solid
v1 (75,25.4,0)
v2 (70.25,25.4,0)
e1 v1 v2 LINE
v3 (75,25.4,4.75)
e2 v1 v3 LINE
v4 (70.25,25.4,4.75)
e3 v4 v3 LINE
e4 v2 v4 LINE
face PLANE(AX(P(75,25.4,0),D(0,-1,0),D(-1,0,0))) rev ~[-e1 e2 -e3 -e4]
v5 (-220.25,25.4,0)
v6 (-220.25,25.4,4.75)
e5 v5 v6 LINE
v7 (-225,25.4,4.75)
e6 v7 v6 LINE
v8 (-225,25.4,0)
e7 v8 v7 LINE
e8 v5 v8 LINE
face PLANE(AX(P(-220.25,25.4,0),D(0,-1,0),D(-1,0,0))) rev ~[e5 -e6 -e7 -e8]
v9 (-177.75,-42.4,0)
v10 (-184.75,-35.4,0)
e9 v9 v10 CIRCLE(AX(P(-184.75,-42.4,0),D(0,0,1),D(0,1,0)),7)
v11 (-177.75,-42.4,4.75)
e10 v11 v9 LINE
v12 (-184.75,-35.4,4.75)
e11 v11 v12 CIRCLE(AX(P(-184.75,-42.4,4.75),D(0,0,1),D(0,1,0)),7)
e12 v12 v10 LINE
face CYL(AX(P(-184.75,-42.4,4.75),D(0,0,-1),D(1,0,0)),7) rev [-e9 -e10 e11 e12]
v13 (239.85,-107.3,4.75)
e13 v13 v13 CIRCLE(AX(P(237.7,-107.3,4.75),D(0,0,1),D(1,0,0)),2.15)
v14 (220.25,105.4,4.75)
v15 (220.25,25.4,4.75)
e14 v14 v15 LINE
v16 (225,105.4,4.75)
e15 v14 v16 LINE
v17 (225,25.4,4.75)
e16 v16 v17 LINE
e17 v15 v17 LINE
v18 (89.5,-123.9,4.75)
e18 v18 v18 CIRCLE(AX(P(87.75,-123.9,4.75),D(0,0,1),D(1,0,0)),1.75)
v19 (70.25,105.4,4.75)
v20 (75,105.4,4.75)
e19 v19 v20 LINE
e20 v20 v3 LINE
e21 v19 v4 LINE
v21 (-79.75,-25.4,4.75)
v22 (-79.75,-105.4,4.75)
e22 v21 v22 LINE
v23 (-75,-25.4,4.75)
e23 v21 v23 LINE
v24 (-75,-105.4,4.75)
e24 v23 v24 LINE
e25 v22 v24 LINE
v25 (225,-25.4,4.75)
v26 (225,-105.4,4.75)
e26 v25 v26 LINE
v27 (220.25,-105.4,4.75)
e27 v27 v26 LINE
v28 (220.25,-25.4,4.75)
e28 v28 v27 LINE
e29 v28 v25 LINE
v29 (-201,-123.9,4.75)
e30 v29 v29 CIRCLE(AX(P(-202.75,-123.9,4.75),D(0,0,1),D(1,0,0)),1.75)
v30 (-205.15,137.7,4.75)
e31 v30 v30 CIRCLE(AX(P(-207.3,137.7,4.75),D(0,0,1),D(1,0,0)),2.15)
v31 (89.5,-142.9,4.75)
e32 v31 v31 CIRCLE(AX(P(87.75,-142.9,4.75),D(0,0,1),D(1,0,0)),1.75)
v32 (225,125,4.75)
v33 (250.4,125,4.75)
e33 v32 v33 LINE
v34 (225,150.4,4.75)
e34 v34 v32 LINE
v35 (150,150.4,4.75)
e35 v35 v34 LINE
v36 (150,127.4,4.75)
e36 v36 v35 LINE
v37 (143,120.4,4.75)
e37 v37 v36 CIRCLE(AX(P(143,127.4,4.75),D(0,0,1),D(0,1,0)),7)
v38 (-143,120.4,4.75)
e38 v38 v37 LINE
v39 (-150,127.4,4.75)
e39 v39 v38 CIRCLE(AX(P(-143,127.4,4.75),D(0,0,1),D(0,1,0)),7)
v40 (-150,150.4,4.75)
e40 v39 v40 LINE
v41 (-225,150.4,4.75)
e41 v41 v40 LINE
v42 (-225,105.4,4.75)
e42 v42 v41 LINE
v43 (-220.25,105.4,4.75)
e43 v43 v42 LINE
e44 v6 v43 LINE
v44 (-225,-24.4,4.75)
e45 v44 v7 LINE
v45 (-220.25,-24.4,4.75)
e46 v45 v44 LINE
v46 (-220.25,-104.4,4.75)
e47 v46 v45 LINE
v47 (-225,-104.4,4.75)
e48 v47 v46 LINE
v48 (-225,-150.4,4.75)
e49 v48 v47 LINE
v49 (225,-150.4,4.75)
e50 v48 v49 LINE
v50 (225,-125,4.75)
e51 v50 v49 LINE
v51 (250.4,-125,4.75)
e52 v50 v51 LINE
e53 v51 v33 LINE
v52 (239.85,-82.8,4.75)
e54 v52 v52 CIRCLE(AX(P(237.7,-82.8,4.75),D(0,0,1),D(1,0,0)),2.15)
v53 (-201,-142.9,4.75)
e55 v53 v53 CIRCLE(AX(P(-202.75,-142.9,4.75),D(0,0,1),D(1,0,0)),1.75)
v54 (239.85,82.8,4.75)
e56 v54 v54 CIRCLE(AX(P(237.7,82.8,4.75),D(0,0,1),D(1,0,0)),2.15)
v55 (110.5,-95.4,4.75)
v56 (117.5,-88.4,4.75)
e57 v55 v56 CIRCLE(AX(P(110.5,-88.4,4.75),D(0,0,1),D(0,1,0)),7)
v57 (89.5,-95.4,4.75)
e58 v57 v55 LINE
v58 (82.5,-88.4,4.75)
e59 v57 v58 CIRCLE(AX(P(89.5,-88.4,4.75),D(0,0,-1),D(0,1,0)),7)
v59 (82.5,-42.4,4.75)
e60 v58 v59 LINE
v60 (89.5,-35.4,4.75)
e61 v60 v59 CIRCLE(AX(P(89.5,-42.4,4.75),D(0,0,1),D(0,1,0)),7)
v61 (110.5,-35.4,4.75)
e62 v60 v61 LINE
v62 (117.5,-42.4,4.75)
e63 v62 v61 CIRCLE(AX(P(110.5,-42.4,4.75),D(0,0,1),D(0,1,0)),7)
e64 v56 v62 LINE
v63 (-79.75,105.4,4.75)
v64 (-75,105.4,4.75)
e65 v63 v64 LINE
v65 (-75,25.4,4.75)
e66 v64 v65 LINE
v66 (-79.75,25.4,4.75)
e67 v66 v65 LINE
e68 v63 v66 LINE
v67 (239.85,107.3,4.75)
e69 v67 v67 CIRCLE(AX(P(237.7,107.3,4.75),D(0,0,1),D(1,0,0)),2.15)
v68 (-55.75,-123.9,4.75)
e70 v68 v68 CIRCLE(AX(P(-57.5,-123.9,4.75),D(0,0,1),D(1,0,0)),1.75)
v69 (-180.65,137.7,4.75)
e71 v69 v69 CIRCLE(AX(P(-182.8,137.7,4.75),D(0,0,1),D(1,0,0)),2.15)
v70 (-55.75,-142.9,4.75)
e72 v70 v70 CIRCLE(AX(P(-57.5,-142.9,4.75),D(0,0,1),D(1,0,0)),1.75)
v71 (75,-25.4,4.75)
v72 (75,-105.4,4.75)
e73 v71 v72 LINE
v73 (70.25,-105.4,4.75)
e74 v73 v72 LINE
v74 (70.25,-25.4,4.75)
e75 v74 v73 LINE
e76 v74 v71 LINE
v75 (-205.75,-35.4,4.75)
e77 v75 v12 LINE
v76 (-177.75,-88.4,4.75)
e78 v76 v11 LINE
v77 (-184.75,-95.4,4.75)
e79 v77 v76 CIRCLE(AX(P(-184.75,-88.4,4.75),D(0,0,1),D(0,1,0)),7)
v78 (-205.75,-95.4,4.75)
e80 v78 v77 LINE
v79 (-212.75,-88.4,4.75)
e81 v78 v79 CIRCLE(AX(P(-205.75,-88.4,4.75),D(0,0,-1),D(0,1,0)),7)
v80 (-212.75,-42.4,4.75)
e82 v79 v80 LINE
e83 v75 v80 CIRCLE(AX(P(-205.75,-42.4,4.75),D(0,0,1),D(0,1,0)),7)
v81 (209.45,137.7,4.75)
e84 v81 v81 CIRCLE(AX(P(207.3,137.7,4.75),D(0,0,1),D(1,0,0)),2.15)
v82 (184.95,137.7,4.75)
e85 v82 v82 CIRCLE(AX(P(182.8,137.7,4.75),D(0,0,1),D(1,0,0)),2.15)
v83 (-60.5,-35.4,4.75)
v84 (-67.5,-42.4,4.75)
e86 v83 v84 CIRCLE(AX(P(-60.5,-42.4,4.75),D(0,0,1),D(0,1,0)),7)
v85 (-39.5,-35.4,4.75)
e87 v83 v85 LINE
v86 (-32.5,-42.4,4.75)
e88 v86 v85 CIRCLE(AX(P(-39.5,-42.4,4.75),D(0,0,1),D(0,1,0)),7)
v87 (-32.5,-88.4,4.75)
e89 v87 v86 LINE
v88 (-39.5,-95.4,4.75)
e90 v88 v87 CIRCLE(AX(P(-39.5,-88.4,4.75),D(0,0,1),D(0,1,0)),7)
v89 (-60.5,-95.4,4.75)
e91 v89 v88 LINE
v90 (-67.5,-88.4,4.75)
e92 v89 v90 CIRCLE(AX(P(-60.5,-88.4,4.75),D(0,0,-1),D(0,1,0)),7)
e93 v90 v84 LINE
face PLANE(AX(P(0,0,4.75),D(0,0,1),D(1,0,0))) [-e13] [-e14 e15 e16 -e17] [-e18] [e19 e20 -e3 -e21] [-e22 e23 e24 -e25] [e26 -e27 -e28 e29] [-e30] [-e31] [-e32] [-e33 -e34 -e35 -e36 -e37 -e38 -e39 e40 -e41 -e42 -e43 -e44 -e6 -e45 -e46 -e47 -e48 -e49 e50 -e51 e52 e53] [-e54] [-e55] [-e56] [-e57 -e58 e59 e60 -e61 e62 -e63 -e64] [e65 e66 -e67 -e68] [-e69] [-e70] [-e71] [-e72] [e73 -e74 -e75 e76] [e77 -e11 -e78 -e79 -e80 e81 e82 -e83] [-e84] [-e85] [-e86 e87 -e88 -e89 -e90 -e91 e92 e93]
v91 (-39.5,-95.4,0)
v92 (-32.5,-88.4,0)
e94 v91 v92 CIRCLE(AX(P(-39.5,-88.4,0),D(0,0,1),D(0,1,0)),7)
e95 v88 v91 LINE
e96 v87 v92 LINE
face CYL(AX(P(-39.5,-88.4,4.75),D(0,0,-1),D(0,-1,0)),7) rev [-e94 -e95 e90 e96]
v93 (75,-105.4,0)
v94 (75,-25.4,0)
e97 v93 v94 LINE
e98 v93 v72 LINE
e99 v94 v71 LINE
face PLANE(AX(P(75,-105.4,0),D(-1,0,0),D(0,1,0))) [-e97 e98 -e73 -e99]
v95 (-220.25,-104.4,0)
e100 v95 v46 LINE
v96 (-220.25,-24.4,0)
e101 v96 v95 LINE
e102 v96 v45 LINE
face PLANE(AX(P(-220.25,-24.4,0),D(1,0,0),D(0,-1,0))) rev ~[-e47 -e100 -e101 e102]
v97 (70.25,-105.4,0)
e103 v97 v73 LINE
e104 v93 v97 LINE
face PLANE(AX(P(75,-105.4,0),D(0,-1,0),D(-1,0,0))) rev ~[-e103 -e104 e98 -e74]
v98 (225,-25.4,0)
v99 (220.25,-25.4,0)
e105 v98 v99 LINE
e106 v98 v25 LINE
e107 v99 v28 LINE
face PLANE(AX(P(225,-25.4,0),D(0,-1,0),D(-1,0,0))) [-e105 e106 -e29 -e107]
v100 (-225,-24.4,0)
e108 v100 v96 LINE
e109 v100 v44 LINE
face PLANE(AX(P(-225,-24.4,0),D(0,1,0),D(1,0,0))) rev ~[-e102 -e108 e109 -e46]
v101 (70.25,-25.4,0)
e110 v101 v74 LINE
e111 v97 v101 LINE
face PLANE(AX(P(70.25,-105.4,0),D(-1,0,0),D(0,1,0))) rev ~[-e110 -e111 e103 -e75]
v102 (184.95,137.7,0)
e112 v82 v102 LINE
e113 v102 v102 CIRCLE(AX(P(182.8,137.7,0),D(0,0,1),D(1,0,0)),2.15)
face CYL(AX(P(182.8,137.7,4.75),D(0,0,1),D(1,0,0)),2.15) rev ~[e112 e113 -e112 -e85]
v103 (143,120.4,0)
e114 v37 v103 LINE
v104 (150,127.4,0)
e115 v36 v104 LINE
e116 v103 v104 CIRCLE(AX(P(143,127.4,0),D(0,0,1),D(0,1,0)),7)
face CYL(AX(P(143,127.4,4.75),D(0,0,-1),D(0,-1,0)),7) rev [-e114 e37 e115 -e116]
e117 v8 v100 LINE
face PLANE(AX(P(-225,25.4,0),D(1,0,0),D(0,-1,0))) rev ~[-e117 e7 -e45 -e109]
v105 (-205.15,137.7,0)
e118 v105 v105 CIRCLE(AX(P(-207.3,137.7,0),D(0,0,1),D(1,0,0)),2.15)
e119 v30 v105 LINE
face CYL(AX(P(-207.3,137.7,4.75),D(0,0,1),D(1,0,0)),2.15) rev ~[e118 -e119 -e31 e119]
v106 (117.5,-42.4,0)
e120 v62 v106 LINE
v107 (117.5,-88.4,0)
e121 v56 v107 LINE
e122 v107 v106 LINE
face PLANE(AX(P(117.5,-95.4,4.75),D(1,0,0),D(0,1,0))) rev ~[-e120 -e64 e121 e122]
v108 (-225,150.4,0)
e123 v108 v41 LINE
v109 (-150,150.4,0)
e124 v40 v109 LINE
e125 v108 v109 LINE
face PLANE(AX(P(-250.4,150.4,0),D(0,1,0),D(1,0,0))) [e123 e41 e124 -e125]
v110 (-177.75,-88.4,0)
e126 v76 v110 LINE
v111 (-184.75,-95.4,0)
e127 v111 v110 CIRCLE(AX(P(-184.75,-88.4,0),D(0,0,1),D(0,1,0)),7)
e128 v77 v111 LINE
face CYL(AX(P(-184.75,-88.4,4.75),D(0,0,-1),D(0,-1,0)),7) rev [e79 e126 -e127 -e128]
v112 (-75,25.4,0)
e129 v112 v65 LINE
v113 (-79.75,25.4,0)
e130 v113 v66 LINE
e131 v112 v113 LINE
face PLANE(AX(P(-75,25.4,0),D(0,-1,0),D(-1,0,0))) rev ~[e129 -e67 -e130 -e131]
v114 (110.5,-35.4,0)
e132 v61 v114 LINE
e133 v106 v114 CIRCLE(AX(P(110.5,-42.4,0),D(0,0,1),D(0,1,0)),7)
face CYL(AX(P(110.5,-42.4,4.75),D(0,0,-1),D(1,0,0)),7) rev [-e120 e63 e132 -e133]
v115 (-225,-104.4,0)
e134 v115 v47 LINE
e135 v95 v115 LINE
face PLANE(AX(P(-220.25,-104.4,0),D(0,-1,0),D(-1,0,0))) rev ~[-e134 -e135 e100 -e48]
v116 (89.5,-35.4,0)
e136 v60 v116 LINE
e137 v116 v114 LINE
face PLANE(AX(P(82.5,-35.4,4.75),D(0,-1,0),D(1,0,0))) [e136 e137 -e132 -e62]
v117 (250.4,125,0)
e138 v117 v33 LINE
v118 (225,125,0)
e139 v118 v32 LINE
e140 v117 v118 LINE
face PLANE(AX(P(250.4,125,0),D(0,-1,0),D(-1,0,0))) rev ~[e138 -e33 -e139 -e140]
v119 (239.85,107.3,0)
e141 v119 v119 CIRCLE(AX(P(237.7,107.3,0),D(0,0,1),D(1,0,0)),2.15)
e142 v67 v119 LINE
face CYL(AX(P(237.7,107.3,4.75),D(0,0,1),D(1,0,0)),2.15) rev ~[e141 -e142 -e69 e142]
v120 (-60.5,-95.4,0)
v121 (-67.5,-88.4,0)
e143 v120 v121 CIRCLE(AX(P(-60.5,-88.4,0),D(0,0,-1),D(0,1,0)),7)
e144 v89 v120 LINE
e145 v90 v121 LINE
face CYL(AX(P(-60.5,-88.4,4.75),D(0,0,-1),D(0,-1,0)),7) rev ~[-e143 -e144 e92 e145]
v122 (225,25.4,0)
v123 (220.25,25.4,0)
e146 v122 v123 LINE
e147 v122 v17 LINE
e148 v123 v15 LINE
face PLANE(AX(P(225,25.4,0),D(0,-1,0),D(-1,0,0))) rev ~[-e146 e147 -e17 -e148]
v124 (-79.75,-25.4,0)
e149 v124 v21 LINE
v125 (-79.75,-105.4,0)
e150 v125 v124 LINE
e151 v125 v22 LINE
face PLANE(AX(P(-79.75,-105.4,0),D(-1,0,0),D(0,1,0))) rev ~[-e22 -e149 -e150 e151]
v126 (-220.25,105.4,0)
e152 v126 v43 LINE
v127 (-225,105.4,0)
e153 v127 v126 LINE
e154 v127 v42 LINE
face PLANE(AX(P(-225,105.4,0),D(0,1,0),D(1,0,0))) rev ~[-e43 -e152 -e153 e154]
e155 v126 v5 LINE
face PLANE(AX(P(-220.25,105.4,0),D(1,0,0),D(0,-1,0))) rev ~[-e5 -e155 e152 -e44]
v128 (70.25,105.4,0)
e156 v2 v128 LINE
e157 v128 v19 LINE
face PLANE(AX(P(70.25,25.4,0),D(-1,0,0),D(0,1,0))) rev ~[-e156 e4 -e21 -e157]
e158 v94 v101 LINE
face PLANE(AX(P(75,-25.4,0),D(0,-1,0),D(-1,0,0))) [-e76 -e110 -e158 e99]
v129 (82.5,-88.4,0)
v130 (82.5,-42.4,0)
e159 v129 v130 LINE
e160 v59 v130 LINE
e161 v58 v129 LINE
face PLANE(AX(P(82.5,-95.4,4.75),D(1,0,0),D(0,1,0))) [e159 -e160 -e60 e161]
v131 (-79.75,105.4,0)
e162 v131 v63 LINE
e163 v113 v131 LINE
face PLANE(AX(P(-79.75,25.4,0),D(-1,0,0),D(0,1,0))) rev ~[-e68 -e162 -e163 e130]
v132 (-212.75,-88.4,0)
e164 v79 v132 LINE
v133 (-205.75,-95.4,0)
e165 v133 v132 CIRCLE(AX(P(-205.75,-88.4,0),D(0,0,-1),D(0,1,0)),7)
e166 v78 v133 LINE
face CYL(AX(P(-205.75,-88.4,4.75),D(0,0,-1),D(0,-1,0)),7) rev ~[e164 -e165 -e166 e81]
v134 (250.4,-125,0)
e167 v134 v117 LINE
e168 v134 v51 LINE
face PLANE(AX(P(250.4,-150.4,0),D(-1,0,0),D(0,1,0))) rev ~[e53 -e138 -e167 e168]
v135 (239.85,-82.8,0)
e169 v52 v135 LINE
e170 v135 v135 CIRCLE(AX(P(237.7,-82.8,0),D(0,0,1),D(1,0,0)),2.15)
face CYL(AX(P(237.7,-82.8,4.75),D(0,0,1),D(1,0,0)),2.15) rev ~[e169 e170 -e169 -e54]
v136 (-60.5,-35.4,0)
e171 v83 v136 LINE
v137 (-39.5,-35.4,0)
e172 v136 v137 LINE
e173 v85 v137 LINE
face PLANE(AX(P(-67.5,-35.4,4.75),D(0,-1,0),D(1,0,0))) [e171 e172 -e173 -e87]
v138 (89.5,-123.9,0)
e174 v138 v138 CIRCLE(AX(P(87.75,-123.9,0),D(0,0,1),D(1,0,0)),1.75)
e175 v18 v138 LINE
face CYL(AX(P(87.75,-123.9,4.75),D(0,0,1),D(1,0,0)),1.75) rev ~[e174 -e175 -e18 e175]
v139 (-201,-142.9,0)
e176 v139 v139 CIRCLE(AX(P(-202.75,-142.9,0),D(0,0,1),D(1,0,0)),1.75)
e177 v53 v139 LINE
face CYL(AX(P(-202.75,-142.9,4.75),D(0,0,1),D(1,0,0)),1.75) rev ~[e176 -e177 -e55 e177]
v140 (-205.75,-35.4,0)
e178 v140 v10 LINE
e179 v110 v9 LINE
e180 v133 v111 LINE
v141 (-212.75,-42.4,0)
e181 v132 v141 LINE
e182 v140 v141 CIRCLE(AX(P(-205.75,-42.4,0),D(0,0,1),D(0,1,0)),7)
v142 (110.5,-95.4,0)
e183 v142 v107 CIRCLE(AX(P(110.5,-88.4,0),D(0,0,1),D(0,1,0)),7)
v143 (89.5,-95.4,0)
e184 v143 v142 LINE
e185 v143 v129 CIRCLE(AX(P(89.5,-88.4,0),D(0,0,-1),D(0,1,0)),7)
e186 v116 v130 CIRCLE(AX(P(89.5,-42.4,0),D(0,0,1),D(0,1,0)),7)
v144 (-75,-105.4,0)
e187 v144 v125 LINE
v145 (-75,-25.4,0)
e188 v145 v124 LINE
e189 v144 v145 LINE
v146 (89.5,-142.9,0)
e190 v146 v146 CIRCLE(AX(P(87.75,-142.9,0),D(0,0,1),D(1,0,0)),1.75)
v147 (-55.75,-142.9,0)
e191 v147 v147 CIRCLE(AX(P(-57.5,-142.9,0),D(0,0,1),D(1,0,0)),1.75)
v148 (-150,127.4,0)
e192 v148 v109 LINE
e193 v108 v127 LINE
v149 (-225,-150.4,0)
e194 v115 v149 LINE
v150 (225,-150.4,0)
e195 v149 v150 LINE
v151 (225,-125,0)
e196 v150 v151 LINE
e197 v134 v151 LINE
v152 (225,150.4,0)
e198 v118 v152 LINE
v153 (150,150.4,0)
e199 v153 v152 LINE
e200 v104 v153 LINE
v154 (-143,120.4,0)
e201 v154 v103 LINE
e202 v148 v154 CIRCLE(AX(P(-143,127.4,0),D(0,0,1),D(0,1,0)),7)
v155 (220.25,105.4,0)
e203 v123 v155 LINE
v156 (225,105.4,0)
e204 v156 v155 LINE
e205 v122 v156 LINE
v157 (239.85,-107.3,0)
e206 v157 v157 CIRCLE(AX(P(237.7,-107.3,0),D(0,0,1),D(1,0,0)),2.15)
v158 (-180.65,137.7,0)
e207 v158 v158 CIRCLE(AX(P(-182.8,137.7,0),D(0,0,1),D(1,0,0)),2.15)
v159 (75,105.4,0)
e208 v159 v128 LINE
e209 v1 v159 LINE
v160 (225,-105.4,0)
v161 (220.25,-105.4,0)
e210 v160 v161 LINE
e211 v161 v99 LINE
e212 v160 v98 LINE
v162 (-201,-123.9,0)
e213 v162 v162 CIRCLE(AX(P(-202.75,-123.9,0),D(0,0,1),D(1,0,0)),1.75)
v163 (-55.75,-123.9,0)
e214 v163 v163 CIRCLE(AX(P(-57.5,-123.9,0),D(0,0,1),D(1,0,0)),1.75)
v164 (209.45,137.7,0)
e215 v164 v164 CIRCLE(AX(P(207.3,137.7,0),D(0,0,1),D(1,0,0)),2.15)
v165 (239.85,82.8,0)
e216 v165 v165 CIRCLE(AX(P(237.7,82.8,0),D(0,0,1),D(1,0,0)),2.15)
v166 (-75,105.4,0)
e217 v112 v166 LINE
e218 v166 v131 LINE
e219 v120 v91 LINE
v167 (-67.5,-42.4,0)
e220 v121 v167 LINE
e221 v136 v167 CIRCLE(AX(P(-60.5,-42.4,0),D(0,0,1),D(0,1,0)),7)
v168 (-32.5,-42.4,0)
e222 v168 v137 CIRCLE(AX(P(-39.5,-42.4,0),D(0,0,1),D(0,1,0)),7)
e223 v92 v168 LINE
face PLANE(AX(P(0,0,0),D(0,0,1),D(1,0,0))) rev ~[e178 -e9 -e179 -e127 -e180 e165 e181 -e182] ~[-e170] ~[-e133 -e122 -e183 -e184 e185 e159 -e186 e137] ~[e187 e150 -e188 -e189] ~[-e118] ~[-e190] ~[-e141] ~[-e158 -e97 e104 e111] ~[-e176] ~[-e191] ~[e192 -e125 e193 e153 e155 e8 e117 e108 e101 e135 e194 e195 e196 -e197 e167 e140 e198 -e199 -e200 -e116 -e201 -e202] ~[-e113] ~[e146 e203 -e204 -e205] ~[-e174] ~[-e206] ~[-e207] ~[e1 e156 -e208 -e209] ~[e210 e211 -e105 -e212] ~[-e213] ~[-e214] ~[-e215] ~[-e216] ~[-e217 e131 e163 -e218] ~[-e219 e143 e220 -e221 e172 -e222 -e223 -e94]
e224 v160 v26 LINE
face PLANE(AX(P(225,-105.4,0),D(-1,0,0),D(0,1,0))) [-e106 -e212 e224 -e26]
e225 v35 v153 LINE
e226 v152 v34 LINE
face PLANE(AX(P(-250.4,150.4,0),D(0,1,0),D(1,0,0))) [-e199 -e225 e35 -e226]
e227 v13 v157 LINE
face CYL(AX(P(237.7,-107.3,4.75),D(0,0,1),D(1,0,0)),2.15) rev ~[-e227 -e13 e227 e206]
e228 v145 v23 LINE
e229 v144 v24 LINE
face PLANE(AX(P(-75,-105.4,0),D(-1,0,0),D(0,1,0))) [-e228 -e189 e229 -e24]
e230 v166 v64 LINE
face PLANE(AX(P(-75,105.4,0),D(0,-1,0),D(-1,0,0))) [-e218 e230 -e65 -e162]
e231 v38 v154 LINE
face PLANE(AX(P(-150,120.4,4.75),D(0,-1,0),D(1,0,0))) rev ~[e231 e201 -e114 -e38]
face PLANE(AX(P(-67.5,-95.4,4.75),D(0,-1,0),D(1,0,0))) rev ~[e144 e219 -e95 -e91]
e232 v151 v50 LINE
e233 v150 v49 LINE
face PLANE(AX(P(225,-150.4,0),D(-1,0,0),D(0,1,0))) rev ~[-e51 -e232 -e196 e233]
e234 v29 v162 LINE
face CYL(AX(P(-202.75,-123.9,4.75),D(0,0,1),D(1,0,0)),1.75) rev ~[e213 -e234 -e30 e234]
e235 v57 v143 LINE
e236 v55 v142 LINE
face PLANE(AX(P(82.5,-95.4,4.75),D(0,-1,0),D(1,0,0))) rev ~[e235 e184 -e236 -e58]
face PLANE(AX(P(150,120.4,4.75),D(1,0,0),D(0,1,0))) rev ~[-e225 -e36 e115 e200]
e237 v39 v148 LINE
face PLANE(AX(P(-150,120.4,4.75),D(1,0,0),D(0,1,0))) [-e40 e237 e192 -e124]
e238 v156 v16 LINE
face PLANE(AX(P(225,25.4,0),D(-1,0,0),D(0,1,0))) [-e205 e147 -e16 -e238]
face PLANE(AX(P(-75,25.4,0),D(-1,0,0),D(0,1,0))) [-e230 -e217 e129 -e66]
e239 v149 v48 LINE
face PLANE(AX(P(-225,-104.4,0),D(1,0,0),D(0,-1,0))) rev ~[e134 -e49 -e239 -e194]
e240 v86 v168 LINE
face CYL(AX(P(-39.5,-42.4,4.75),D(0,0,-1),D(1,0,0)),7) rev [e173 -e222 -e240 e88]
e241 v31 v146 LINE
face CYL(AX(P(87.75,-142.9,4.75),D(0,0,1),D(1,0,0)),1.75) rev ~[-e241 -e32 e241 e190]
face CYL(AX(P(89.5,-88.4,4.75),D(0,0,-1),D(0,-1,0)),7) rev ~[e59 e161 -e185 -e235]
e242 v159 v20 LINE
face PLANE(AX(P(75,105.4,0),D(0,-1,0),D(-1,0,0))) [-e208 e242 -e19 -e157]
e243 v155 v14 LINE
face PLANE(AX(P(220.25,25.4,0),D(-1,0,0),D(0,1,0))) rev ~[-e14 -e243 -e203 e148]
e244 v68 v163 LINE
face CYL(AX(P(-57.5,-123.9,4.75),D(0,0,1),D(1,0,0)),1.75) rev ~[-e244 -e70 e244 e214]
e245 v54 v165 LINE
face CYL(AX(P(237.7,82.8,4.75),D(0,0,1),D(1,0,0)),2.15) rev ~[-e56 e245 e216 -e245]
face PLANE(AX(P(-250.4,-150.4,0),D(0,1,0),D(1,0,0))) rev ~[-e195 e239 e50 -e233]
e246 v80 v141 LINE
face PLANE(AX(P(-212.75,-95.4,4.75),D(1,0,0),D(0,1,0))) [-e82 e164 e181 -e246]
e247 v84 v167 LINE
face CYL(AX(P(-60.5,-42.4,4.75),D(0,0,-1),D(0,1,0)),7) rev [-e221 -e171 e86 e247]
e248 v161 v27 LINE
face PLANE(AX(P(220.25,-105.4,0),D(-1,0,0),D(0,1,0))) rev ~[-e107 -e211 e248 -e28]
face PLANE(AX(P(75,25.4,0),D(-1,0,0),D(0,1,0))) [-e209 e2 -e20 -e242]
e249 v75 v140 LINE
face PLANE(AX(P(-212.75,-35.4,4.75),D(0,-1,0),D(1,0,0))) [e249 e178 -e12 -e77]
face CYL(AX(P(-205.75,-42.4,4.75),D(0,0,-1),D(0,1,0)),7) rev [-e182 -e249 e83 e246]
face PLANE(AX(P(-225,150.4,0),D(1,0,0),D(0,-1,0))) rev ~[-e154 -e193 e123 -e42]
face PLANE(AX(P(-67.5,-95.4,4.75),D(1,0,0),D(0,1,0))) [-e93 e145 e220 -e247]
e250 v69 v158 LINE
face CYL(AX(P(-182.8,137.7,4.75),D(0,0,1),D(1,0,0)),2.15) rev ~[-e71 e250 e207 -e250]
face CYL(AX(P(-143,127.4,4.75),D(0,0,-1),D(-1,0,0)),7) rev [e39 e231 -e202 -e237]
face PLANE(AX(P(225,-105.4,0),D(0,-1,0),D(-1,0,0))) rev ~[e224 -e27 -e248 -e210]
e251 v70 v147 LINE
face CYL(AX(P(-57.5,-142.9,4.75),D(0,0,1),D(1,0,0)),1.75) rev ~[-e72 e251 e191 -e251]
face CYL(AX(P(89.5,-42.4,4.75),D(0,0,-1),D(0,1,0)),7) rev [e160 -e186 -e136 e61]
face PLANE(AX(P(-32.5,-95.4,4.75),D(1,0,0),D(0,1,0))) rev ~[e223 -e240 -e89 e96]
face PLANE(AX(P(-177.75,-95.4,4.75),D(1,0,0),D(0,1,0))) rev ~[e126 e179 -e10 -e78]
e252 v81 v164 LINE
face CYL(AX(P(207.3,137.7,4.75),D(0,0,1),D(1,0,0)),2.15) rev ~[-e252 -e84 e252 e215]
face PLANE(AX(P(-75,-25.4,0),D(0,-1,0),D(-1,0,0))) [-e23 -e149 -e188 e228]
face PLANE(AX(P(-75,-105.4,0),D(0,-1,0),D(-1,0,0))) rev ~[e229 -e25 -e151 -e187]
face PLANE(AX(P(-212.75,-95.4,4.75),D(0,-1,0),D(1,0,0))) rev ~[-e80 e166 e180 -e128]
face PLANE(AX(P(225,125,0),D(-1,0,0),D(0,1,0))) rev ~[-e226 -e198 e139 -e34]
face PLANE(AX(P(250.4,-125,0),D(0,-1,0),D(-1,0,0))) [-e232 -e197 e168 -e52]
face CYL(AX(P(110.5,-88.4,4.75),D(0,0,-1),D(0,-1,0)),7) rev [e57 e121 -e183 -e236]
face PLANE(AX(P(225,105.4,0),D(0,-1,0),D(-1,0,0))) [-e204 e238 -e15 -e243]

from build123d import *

# Parameters (mm, degrees)
SKETCH_1_W          = 500.8
SKETCH_1_H          = 300.8
EXTRUDE_1_DEPTH     = 4.75
SKETCH_2_W          = 25.4
SKETCH_2_H          = 25.4
SKETCH_2_W_2        = 4.75
SKETCH_2_H_2        = 80
CUT_EXTRUDE_1_DEPTH = 25.4
SKETCH_3_R          = 2.15
SKETCH_3_R_2        = 2.150000004
CUT_EXTRUDE_2_DEPTH = 5
SKETCH_5_W          = 35
SKETCH_5_H          = 60
SKETCH_5_W_2        = 300
SKETCH_5_H_2        = 30
CUT_EXTRUDE_3_DEPTH = 10
FILLET_1_R          = 7
SKETCH_6_R          = 1.75
CUT_EXTRUDE_4_DEPTH = 10


with BuildPart() as part:
    # 草圖1 → 填料-伸長1 (new body)
    with BuildSketch(Plane.XY):
        Rectangle(SKETCH_1_W, SKETCH_1_H)
    extrude(amount=EXTRUDE_1_DEPTH)

    # 草圖2 → 除料-伸長1 (cut)
    with BuildSketch(Plane(origin=(0, 0, 0), x_dir=(-1, 0, 0), z_dir=(0, 0, -1))):
        with Locations((-237.7, 137.7)):
            Rectangle(SKETCH_2_W, SKETCH_2_H)
        with Locations((-237.7, -137.7)):
            Rectangle(SKETCH_2_W, SKETCH_2_H)
        Polygon((250.4, -150.4), (250.4, 150.4), (225, 150.4), (225, 105.4), (220.25, 105.4), (220.25, 25.4), (225, 25.4), (225, -24.4), (220.25, -24.4), (220.25, -104.4), (225, -104.4), (225, -150.4), align=None)
        with Locations((-222.625, 65.4)):
            Rectangle(SKETCH_2_W_2, SKETCH_2_H_2)
        with Locations((-222.625, -65.4)):
            Rectangle(SKETCH_2_W_2, SKETCH_2_H_2)
        with Locations((-72.625, 65.4)):
            Rectangle(SKETCH_2_W_2, SKETCH_2_H_2)
        with Locations((77.375, 65.4)):
            Rectangle(SKETCH_2_W_2, SKETCH_2_H_2)
        with Locations((77.375, -65.4)):
            Rectangle(SKETCH_2_W_2, SKETCH_2_H_2)
        with Locations((-72.625, -65.4)):
            Rectangle(SKETCH_2_W_2, SKETCH_2_H_2)
    extrude(amount=-CUT_EXTRUDE_1_DEPTH, mode=Mode.SUBTRACT)

    # 草圖3 → 除料-伸長2 (cut)
    with BuildSketch(Plane.XY.offset(4.75)):
        with Locations((-207.3, 137.7)):
            Circle(SKETCH_3_R)
        with Locations((-182.8, 137.7)):
            Circle(SKETCH_3_R)
        with Locations((182.8, 137.7)):
            Circle(SKETCH_3_R)
        with Locations((207.3, 137.7)):
            Circle(SKETCH_3_R)
        with Locations((237.7, 107.3)):
            Circle(SKETCH_3_R)
        with Locations((237.7, 82.8)):
            Circle(SKETCH_3_R)
        with Locations((237.7, -82.800000014)):
            Circle(SKETCH_3_R_2)
        with Locations((237.7, -107.300000014)):
            Circle(SKETCH_3_R_2)
        with Locations((-237.7, 107.3)):
            Circle(SKETCH_3_R)
        with Locations((-237.7, 82.8)):
            Circle(SKETCH_3_R)
        with Locations((-237.7, -82.800000014)):
            Circle(SKETCH_3_R_2)
        with Locations((-237.7, -107.300000014)):
            Circle(SKETCH_3_R_2)
    extrude(amount=-CUT_EXTRUDE_2_DEPTH, mode=Mode.SUBTRACT)

    # 草圖5 → 除料-伸長3 (cut)
    with BuildSketch(Plane.XY.offset(4.75)):
        with Locations((100, -65.4)):
            Rectangle(SKETCH_5_W, SKETCH_5_H)
        with Locations((-50, -65.4)):
            Rectangle(SKETCH_5_W, SKETCH_5_H)
        with Locations((-195.25, -65.4)):
            Rectangle(SKETCH_5_W, SKETCH_5_H)
        with Locations((0, 135.4)):
            Rectangle(SKETCH_5_W_2, SKETCH_5_H_2)
    extrude(amount=-CUT_EXTRUDE_3_DEPTH, mode=Mode.SUBTRACT)

    # 圓角1
    fillet_1_edges = [part.edges().sort_by_distance(p)[0] for p in [
        (-150, 120.4, 2.375),
        (150, 120.4, 2.375),
        (-177.75, -35.4, 2.375),
        (-177.75, -95.4, 2.375),
        (-212.75, -95.4, 2.375),
        (-212.75, -35.4, 2.375),
        (-32.5, -35.4, 2.375),
        (-32.5, -95.4, 2.375),
        (-67.5, -95.4, 2.375),
        (-67.5, -35.4, 2.375),
        (117.5, -35.4, 2.375),
        (117.5, -95.4, 2.375),
        (82.5, -95.4, 2.375),
        (82.5, -35.4, 2.375),
    ]]
    fillet(fillet_1_edges, radius=FILLET_1_R)

    # 草圖6 → 除料-伸長4 (cut)
    with BuildSketch(Plane.XY.offset(4.75)):
        with Locations((-202.75, -142.9)):
            Circle(SKETCH_6_R)
        with Locations((-202.75, -123.9)):
            Circle(SKETCH_6_R)
        with Locations((-57.5, -142.9)):
            Circle(SKETCH_6_R)
        with Locations((-57.5, -123.9)):
            Circle(SKETCH_6_R)
        with Locations((87.75, -142.9)):
            Circle(SKETCH_6_R)
        with Locations((87.75, -123.9)):
            Circle(SKETCH_6_R)
    extrude(amount=-CUT_EXTRUDE_4_DEPTH, mode=Mode.SUBTRACT)


solid = part.part
